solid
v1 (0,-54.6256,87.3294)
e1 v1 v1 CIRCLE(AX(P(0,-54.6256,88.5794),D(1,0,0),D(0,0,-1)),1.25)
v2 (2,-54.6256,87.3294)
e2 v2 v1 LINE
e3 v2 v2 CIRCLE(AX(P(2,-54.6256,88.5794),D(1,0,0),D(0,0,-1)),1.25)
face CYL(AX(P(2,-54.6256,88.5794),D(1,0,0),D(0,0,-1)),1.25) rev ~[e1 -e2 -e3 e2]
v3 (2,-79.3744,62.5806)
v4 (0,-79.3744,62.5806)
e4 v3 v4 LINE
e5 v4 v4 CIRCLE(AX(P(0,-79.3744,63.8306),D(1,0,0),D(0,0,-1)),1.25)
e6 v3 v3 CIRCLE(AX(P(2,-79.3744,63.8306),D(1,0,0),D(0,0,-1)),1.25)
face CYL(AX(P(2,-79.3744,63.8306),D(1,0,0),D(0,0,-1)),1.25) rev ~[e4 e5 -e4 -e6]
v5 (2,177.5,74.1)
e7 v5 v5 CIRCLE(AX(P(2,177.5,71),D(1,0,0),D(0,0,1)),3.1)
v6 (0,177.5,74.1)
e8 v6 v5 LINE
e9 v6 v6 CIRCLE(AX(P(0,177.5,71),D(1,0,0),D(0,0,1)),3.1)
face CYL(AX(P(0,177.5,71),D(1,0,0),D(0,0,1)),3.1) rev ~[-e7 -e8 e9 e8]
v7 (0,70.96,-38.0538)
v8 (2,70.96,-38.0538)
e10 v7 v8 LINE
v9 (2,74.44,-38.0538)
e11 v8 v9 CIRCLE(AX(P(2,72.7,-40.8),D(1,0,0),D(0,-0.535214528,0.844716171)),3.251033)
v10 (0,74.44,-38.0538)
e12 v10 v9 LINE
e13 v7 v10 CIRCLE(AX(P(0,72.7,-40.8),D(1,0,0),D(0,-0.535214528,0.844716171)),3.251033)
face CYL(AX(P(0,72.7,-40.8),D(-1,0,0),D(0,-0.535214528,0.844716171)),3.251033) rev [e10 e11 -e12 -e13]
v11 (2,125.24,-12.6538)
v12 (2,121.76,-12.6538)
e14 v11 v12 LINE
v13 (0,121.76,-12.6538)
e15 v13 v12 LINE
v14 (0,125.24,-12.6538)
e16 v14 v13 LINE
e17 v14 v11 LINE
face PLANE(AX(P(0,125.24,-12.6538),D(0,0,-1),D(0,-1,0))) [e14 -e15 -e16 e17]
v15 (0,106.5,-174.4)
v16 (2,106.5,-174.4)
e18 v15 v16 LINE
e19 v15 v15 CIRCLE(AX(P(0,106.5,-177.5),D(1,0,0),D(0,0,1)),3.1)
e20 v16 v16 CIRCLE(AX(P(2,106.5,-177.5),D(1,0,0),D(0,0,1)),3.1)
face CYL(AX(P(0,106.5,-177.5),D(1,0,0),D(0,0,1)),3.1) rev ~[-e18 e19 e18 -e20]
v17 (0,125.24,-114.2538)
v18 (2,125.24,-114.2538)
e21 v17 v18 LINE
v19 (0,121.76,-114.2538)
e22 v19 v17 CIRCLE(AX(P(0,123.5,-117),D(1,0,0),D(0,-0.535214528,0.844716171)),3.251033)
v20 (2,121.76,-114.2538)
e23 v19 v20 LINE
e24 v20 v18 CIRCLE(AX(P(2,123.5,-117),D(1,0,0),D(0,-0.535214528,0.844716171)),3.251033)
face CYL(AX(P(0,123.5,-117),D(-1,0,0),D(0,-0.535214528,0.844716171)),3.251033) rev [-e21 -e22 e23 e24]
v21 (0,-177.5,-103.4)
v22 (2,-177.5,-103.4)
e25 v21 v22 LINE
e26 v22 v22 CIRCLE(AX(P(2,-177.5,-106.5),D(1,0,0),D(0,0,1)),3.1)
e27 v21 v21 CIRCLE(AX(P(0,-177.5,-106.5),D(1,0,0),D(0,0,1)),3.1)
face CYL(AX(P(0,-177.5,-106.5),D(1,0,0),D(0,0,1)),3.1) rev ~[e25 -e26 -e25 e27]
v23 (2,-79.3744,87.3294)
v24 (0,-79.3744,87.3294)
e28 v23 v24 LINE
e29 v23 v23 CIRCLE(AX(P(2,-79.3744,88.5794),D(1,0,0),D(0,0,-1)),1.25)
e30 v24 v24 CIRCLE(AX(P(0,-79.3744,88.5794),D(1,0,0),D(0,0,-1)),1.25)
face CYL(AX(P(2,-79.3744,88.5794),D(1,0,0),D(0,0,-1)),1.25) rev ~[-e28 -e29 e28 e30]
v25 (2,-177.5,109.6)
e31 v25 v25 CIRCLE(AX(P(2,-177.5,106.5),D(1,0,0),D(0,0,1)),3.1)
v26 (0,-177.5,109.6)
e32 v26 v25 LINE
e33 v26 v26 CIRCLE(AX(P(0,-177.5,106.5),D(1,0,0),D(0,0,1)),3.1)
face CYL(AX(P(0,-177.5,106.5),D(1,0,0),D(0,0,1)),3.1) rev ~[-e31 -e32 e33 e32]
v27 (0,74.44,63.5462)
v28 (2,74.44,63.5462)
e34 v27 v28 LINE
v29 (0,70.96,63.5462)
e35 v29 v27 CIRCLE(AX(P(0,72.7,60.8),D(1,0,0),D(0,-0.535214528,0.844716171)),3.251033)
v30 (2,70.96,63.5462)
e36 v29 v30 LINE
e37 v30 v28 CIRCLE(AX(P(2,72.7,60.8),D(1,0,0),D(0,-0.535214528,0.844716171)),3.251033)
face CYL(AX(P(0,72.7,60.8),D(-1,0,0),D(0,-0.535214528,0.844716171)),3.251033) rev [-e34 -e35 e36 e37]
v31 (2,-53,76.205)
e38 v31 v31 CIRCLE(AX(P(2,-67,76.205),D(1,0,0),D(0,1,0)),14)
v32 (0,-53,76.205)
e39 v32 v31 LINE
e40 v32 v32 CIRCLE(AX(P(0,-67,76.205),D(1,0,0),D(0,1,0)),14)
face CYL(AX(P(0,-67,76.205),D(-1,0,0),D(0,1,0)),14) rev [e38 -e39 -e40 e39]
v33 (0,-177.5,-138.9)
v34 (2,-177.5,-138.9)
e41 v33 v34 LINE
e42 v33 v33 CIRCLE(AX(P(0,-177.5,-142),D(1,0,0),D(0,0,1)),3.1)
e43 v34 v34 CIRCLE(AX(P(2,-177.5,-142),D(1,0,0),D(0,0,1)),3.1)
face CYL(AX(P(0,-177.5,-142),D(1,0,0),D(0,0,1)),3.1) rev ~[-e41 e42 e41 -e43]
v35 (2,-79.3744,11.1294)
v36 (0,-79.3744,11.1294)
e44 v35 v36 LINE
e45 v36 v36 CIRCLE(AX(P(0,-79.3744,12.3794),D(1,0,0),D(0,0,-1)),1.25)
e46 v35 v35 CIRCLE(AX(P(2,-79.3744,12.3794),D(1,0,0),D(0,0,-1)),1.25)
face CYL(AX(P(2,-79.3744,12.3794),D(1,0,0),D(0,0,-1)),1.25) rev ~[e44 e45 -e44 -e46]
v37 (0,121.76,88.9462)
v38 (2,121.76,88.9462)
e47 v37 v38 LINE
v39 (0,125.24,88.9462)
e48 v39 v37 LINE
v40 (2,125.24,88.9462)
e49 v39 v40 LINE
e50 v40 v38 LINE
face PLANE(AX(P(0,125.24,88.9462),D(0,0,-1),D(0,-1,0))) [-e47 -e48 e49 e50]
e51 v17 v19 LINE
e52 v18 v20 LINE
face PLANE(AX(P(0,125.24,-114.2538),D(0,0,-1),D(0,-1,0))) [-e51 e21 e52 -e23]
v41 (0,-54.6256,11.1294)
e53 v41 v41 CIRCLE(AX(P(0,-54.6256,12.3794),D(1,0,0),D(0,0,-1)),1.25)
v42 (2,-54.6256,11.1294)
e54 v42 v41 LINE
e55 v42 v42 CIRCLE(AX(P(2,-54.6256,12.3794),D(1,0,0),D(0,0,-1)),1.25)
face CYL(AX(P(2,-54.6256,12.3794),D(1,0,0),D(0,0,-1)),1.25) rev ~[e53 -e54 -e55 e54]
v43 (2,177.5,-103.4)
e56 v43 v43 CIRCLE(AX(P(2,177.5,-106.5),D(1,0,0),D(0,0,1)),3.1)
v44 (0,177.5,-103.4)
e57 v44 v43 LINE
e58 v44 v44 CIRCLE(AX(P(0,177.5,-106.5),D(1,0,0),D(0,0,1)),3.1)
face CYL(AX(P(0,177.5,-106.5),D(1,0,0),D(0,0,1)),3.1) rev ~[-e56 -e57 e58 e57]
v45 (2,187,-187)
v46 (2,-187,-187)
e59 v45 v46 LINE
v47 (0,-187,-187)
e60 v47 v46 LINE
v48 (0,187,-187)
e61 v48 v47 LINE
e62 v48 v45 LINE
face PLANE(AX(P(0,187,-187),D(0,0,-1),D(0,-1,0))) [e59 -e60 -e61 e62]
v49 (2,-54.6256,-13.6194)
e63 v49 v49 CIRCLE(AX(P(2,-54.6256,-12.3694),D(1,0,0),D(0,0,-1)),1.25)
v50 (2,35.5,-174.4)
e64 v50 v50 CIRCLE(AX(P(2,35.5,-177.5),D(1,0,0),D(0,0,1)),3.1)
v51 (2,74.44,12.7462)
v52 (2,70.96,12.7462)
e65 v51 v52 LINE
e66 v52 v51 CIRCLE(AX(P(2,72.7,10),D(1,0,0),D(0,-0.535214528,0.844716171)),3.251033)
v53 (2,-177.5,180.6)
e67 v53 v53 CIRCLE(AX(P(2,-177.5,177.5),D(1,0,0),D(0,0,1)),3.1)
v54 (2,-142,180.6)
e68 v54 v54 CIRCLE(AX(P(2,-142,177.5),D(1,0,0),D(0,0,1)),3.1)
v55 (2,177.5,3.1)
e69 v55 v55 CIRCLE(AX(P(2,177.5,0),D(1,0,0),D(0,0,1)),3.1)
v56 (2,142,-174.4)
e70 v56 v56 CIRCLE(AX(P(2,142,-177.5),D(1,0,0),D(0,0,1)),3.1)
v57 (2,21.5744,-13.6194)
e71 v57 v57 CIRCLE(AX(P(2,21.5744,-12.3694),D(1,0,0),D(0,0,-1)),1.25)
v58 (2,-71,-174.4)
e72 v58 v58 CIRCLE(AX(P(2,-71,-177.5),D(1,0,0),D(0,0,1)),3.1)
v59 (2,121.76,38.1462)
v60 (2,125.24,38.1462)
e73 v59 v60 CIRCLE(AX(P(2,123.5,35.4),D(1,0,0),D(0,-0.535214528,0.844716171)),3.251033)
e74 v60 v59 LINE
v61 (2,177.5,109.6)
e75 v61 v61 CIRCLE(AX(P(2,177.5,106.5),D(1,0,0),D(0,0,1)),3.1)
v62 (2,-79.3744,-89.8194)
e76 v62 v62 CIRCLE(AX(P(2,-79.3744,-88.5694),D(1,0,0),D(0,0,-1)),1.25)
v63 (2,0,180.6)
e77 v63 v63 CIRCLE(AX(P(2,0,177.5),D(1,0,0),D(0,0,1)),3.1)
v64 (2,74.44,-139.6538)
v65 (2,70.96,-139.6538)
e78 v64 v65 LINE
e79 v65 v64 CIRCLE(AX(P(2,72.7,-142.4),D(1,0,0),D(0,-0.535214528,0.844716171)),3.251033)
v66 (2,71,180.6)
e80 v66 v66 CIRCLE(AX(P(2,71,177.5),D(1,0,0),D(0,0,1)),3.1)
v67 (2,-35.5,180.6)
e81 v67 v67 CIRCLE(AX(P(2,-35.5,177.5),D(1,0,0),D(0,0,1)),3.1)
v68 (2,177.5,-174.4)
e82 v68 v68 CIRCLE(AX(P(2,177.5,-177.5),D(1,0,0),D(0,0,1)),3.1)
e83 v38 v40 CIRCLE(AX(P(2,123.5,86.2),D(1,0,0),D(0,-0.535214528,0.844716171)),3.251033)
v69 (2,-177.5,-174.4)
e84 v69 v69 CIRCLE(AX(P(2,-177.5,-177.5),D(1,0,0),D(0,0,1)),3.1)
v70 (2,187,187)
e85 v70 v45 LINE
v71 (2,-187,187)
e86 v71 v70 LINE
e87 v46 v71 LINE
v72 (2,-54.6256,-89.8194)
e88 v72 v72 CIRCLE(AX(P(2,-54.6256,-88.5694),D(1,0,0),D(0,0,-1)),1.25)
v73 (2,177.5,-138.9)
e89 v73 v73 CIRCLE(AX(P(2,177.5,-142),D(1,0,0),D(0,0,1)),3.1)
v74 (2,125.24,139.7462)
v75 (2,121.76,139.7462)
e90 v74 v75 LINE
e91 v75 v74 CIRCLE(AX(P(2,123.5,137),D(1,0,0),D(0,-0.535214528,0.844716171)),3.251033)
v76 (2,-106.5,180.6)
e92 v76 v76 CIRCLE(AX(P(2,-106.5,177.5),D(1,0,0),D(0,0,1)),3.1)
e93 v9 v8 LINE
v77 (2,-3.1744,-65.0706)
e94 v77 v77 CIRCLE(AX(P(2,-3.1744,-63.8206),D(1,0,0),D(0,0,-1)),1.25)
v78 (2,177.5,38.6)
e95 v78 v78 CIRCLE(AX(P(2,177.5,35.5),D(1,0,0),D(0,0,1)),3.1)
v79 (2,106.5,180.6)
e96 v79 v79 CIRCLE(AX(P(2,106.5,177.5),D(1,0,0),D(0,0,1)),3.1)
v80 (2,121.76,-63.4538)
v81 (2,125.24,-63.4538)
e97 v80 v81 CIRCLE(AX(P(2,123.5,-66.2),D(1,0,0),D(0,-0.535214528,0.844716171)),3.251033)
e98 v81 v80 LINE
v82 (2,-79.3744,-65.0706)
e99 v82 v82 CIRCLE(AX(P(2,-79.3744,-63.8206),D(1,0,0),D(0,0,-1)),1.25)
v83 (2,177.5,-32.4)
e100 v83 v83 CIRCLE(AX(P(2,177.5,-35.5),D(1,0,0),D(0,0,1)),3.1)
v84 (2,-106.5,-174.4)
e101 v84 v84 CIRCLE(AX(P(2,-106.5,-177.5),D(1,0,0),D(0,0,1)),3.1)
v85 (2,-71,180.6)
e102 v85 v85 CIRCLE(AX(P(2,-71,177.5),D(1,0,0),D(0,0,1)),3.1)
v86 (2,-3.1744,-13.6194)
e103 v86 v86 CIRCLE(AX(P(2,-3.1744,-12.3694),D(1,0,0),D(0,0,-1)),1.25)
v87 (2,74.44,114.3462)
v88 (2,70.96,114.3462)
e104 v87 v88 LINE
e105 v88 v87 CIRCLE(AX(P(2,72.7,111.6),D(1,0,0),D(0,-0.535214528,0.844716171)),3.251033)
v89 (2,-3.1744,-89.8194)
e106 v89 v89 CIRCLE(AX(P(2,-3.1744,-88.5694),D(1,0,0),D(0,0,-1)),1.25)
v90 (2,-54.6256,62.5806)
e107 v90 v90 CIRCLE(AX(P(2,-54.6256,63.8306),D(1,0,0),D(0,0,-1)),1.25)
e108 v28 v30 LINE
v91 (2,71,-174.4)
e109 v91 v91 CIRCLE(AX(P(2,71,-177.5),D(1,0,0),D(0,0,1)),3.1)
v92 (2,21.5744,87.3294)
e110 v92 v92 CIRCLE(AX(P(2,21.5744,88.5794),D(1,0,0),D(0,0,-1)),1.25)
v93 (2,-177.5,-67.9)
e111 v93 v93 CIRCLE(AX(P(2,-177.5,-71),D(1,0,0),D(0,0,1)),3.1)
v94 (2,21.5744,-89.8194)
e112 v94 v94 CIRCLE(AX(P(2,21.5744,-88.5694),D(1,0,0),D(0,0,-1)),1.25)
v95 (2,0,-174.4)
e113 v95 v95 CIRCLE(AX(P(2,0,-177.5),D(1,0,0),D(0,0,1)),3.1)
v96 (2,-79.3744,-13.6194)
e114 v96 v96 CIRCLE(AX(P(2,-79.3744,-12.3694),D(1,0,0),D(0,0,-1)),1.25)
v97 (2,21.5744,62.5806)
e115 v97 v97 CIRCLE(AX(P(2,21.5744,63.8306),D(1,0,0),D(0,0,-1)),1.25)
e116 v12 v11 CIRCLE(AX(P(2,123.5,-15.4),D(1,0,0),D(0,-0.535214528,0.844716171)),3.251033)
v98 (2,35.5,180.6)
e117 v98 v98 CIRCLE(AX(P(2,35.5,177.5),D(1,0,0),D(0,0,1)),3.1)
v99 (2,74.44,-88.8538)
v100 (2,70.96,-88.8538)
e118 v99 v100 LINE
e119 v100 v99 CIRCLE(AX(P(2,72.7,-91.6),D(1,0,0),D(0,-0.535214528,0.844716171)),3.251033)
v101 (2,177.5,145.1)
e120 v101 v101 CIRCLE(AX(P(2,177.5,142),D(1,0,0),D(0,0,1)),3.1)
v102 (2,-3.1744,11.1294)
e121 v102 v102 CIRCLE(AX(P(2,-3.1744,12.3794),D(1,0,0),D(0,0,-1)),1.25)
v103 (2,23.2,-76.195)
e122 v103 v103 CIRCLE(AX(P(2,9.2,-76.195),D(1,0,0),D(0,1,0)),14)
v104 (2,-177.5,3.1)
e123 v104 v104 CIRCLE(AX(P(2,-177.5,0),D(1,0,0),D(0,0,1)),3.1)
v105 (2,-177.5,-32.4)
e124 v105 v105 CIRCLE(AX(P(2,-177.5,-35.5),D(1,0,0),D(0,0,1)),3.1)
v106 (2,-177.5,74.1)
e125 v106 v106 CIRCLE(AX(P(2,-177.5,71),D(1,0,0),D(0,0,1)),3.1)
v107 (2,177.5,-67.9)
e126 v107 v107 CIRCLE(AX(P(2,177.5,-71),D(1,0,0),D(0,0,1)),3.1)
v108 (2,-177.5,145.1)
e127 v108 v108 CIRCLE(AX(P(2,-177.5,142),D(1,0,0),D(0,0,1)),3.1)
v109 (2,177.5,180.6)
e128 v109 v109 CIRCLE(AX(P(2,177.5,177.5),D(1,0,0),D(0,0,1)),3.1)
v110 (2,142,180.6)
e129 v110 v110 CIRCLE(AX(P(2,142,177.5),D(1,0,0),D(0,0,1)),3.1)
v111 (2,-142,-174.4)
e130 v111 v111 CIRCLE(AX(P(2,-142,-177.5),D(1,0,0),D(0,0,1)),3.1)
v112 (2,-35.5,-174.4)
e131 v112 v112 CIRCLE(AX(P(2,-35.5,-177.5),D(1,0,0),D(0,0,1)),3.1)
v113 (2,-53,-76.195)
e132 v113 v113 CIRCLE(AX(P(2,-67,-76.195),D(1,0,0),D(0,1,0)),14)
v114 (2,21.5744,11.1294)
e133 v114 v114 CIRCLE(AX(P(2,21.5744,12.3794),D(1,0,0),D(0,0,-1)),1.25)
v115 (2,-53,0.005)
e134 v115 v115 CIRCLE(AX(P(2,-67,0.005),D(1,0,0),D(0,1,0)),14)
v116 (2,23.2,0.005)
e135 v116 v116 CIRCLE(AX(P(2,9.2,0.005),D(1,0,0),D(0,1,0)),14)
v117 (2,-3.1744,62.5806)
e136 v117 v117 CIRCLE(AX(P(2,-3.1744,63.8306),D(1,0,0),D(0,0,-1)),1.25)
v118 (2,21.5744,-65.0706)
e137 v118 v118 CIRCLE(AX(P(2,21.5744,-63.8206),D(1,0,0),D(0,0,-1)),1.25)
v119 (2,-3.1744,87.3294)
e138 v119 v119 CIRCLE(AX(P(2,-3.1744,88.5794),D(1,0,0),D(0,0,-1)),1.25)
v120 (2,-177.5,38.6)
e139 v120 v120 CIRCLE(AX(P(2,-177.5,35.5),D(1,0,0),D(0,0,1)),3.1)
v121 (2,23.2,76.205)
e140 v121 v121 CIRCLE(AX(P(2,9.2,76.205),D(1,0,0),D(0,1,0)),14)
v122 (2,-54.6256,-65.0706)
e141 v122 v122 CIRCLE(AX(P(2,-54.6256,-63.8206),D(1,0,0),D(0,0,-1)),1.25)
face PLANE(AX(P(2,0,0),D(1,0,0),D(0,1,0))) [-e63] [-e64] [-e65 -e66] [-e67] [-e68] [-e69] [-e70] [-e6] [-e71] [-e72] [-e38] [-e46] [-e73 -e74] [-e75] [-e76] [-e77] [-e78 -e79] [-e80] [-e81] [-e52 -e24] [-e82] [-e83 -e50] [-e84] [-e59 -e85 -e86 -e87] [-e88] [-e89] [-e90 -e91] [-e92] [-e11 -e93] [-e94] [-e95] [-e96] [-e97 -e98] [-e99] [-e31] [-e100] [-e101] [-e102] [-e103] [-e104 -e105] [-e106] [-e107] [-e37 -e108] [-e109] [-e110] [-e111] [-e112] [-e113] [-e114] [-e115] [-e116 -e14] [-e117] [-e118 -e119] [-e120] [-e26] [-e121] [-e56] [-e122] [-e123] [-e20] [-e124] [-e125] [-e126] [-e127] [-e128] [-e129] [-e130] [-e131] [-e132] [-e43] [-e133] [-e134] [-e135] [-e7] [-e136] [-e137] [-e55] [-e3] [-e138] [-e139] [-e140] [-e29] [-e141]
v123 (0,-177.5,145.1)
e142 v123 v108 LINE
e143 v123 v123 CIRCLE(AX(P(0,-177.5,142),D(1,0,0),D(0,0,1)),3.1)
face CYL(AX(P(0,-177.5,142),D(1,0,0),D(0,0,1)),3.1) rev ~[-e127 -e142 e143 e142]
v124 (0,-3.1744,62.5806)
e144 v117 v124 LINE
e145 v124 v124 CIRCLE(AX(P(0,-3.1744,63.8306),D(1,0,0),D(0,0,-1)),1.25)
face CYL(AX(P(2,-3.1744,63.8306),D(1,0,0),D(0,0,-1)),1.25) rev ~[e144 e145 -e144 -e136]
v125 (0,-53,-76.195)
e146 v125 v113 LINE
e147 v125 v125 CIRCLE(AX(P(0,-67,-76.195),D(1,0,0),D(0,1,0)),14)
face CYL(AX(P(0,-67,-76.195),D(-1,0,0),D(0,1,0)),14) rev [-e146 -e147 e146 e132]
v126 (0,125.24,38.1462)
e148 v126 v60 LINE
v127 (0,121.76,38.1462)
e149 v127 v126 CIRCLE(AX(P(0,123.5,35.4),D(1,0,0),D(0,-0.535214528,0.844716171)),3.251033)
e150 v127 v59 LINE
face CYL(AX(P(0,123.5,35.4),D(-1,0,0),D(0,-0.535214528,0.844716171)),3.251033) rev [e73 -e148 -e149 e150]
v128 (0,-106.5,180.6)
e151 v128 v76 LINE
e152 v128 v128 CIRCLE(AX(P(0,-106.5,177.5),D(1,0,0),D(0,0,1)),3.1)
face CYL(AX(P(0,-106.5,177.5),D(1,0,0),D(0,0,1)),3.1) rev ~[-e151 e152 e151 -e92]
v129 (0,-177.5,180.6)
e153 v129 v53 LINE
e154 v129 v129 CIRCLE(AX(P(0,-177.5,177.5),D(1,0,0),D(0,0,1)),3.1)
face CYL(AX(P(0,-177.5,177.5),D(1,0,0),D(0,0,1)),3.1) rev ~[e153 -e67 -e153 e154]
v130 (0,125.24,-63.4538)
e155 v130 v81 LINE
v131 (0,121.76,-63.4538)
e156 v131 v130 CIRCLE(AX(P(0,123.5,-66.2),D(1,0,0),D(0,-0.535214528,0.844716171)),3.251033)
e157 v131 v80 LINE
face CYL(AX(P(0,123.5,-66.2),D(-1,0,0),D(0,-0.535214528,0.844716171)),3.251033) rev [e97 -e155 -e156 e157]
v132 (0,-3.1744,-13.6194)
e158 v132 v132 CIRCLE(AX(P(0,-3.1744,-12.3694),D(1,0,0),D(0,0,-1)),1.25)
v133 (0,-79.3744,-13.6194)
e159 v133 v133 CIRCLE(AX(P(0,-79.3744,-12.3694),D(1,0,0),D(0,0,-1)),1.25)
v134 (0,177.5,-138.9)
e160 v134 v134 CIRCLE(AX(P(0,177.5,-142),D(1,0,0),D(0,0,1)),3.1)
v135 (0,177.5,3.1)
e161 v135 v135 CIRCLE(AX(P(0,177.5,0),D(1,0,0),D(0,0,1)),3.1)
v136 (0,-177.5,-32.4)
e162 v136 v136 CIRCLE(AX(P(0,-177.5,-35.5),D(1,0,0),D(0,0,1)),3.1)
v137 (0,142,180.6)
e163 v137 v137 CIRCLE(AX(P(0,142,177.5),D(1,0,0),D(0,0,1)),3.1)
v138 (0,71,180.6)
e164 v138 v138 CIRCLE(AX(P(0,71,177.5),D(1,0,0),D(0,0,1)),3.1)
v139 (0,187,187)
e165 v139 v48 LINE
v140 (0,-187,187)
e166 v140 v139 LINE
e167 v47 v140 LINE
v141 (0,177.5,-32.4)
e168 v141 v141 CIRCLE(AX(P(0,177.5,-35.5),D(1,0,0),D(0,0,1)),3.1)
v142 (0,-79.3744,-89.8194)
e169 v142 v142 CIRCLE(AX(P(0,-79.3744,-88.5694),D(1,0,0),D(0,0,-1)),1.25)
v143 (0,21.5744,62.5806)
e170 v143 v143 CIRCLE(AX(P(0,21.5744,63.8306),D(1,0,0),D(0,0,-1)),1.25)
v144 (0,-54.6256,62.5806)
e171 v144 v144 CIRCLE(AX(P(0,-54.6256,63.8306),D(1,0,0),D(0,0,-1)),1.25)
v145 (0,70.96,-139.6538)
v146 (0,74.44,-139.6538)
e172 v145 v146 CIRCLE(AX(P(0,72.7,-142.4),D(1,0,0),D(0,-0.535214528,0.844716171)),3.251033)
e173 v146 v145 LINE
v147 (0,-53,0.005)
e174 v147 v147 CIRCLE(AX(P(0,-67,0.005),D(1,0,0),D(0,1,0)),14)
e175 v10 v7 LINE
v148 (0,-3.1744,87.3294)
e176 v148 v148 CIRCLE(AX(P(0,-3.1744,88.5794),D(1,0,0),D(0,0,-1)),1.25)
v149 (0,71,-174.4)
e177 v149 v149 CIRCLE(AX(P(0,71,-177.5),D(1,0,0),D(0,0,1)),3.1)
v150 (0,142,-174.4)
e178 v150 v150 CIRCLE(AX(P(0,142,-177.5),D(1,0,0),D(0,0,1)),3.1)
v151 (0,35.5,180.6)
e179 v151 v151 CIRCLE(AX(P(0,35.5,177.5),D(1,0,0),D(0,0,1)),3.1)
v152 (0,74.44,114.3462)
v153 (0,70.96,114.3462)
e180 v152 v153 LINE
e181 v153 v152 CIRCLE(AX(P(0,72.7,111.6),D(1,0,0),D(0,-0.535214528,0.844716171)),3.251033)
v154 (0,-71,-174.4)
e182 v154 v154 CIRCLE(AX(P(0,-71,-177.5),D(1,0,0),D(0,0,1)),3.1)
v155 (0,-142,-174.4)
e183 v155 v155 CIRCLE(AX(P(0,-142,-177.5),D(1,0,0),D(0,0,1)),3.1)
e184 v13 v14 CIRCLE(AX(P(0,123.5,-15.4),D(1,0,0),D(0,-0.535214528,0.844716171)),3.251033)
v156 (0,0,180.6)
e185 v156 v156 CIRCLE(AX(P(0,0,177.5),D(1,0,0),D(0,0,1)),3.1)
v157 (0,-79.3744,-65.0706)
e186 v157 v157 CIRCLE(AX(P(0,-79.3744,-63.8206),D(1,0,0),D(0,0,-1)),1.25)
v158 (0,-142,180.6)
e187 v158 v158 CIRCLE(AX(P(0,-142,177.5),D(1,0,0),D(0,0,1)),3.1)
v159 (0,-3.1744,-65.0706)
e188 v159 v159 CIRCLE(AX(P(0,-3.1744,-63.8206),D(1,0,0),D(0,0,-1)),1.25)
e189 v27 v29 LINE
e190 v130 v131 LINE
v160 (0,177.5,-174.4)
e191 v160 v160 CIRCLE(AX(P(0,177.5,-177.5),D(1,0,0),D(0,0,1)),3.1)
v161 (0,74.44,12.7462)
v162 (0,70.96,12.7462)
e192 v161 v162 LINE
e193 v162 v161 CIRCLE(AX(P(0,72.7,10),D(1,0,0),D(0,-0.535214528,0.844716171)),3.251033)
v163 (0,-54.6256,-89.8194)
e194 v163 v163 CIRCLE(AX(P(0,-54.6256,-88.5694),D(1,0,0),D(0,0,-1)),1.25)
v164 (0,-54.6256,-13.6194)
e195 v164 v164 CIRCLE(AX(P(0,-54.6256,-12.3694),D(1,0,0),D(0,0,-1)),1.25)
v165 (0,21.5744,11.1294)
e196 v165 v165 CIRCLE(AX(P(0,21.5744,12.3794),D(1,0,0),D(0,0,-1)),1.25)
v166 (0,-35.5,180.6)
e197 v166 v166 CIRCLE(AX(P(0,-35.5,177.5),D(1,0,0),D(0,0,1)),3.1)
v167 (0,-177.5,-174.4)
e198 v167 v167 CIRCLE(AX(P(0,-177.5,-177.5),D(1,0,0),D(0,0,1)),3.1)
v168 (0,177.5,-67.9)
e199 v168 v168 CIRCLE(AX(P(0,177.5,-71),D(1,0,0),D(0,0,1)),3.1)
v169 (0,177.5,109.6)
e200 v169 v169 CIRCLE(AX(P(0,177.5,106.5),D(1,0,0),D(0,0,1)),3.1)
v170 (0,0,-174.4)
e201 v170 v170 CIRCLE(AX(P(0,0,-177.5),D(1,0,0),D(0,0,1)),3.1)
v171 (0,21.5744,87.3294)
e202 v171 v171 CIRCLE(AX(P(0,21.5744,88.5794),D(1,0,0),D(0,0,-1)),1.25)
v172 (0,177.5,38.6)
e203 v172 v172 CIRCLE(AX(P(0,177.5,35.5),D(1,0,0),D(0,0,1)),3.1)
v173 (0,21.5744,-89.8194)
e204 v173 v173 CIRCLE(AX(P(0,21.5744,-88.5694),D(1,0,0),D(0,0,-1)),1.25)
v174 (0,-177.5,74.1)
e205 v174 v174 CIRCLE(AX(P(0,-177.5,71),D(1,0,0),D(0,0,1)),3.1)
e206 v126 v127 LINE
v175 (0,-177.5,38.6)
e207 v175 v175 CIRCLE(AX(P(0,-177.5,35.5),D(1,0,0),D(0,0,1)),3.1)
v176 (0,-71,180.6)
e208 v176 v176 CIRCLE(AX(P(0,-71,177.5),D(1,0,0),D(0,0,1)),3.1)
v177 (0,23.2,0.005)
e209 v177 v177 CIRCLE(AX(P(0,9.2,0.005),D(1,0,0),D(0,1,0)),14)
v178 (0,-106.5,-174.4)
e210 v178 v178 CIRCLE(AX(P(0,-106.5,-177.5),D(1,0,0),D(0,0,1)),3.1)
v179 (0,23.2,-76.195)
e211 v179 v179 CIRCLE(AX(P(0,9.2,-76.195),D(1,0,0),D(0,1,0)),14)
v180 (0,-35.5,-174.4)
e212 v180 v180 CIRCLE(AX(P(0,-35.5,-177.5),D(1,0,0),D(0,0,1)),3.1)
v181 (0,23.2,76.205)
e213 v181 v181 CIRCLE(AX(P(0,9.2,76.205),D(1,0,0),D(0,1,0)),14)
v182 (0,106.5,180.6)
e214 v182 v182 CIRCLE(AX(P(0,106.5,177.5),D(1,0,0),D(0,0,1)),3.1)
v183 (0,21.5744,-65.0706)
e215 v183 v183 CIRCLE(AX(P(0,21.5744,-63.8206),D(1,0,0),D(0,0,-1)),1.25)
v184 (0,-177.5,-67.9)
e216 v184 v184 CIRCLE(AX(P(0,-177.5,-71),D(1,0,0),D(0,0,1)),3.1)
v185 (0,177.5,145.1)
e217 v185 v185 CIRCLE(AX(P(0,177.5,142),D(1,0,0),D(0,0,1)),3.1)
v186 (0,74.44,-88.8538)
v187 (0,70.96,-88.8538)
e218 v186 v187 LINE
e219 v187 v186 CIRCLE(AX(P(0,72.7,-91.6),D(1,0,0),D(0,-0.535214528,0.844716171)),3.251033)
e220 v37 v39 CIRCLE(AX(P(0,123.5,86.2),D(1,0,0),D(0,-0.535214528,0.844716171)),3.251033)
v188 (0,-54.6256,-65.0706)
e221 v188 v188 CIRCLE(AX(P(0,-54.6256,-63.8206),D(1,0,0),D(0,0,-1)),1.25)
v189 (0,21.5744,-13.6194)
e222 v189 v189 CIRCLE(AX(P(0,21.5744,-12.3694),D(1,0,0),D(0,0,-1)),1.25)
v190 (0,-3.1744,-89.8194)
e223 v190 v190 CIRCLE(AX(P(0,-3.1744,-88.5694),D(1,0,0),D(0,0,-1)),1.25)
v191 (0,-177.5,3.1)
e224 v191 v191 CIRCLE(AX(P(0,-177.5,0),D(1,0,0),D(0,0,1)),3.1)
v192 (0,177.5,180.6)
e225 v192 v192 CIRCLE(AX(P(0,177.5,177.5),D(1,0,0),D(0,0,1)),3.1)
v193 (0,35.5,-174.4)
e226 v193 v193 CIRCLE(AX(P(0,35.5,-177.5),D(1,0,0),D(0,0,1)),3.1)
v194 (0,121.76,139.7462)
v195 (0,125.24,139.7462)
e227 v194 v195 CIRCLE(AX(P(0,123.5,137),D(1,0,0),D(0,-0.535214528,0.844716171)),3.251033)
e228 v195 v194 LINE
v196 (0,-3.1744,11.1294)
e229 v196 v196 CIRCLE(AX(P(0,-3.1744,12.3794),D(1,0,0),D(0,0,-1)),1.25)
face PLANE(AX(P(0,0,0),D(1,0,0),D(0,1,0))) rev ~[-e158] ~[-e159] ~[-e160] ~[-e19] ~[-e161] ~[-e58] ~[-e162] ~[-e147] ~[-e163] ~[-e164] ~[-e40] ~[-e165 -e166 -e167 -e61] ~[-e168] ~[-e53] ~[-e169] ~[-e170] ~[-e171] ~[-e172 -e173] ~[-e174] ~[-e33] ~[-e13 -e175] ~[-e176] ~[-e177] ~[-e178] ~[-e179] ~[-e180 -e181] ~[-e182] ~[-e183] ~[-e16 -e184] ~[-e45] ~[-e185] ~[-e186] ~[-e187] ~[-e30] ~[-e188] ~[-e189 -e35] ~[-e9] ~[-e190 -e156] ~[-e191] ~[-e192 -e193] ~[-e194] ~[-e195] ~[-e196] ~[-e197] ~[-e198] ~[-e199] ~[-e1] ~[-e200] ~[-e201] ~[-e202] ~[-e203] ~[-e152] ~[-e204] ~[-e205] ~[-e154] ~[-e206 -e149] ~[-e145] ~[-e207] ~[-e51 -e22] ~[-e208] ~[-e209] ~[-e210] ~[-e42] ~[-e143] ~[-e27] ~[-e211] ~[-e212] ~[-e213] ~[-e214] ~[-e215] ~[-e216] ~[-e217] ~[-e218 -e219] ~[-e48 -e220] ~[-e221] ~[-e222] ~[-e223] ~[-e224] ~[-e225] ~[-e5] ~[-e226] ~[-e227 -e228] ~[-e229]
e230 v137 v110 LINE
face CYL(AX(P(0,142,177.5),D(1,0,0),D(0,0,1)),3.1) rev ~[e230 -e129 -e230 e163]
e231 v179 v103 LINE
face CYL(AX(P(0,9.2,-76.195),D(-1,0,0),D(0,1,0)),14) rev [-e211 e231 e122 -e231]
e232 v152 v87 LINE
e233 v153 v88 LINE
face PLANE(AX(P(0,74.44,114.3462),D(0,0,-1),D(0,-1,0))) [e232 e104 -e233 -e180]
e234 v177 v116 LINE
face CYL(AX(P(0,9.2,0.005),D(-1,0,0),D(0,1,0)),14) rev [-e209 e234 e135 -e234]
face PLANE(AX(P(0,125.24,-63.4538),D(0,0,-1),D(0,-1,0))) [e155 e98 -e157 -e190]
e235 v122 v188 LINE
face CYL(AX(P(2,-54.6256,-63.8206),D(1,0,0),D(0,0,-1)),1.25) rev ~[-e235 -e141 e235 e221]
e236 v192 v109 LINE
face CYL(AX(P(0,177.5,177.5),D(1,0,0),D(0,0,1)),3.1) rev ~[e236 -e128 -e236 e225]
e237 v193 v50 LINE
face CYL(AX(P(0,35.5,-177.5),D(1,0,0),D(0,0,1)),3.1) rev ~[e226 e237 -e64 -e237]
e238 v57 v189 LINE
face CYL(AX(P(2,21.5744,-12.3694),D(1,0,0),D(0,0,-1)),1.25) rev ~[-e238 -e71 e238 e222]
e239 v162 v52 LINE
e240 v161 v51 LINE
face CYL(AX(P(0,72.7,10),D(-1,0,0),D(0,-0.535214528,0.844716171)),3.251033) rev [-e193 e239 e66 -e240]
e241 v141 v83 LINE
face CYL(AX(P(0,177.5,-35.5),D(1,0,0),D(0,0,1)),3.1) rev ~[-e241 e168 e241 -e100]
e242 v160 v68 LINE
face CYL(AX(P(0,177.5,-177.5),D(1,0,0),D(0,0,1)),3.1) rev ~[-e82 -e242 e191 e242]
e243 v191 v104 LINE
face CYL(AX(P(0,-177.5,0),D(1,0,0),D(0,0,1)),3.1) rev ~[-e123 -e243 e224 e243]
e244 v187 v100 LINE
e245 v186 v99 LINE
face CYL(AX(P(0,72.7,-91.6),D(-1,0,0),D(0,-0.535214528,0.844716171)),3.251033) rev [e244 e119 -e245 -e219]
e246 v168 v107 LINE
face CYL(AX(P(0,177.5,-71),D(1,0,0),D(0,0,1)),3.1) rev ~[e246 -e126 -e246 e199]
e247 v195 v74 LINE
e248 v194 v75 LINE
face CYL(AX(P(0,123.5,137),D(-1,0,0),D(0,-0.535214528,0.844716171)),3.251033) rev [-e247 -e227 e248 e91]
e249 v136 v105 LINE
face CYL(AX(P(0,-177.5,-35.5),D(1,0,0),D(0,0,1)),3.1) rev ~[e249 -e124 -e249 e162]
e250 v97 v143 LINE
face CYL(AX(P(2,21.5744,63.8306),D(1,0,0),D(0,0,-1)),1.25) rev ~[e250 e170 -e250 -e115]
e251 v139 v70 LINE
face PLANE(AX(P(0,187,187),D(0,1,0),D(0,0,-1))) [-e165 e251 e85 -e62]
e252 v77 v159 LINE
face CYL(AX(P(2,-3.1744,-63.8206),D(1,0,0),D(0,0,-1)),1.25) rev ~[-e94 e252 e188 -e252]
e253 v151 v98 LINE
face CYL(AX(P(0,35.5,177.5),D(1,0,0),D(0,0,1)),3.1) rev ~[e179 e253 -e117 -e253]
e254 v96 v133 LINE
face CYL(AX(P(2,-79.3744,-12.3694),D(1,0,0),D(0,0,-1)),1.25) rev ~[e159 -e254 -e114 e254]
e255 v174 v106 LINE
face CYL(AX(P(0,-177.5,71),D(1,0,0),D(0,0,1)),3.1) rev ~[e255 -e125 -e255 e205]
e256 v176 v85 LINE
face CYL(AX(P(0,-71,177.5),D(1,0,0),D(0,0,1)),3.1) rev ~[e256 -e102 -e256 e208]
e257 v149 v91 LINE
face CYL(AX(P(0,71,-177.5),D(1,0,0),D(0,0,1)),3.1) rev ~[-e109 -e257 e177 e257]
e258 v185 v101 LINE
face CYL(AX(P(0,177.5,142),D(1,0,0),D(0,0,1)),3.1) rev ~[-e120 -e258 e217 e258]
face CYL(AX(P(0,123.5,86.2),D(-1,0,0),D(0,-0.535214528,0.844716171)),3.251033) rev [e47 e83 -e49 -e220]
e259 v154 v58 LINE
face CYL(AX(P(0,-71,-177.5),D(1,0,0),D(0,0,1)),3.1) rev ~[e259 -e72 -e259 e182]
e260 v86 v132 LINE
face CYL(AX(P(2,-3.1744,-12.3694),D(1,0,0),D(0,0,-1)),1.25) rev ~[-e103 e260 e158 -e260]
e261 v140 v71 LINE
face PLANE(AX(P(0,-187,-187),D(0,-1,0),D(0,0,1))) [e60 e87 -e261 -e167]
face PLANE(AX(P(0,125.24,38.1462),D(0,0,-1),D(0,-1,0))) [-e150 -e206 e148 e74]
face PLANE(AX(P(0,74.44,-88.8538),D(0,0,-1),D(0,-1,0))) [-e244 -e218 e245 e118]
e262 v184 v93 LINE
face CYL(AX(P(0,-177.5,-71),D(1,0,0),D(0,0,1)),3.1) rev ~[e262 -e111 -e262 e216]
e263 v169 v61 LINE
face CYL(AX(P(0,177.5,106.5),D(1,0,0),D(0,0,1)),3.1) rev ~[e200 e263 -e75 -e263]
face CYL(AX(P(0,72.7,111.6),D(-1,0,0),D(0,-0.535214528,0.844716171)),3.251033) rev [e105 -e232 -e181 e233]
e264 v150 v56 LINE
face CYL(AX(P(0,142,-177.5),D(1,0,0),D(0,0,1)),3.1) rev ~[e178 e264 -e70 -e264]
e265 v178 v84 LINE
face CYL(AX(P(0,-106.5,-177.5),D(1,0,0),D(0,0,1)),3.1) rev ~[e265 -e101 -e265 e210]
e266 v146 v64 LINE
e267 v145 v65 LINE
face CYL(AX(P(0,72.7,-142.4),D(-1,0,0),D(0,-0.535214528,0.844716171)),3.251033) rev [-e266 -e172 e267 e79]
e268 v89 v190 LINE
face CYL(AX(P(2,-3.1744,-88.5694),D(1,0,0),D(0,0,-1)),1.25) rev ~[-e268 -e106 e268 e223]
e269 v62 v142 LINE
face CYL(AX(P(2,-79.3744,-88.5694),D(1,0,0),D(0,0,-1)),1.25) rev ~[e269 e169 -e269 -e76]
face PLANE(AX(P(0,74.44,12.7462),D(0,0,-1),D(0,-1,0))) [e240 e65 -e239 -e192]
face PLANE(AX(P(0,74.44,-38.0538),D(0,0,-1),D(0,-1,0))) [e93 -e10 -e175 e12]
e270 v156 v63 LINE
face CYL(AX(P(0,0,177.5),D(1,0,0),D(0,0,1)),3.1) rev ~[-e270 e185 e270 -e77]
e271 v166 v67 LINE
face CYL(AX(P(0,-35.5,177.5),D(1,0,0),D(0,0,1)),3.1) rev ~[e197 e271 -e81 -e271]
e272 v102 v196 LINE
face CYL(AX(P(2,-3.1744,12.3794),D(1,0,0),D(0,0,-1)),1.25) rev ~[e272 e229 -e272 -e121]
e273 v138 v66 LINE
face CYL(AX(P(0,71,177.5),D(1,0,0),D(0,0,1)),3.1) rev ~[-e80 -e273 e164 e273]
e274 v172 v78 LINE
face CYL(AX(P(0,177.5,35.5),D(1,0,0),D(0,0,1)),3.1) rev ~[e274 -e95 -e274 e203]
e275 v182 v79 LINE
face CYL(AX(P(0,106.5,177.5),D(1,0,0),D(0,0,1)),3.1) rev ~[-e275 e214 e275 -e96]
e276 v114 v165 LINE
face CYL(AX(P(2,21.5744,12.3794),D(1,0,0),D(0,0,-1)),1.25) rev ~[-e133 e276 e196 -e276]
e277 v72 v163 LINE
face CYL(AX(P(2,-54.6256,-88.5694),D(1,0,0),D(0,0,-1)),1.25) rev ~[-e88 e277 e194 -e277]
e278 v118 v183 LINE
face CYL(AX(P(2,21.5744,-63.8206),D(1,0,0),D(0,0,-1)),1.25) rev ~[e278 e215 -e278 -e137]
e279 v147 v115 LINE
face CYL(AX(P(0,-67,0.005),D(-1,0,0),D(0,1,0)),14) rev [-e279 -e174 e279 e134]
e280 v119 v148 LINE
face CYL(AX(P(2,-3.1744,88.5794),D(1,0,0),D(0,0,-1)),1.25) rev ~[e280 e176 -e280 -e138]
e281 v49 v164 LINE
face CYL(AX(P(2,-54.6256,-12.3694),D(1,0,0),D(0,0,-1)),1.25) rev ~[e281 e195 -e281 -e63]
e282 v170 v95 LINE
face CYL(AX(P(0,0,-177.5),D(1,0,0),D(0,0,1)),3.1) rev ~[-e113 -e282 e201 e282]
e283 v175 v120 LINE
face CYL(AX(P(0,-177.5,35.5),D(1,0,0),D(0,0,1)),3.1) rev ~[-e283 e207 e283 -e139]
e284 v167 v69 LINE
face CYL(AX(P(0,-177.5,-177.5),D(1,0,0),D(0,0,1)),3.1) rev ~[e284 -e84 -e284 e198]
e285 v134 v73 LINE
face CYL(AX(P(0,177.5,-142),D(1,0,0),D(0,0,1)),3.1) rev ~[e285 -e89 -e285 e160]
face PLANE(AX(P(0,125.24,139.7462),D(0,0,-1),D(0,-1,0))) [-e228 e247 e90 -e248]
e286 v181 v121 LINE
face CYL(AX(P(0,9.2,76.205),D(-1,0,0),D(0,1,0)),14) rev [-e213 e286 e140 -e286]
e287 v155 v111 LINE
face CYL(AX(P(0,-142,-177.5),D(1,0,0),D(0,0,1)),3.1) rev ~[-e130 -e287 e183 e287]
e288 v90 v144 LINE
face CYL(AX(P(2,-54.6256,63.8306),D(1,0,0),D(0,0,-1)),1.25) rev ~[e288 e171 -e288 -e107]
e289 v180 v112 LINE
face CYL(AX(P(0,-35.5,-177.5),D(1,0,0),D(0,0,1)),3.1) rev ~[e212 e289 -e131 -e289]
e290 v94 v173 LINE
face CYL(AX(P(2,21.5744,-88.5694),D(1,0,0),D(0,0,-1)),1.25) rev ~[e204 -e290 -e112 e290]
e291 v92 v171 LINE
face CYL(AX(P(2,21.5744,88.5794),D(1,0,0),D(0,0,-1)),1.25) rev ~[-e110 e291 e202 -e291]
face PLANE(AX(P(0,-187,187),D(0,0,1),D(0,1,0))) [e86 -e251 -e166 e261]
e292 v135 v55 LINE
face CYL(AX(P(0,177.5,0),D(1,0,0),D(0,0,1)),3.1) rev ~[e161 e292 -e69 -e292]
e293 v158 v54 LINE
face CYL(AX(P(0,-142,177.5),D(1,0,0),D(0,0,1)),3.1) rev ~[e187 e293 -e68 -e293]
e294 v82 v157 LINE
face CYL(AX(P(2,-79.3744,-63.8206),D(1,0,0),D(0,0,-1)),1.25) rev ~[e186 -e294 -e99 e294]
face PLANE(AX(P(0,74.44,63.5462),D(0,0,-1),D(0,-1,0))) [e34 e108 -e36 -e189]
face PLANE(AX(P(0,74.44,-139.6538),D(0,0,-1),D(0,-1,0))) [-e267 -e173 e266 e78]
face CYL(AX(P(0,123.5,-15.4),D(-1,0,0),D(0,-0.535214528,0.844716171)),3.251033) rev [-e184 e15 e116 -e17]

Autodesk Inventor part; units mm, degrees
ref_plane "YZ Plane" through (0, 0, 0) normal (1, 0, 0) x (0, 1, 0)
ref_plane "XZ Plane" through (0, 0, 0) normal (0, 1, 0) x (-1, 0, 0)
ref_plane "XY Plane" through (0, 0, 0) normal (0, 0, 1) x (1, 0, 0)
sketch "Sketch4" plane through (0, 0, 0) normal (1, 0, 0) x (0, 1, 0)
  line L0 (-187, 187) -> (187, 187)
  line L1 (187, 187) -> (187, -187)
  line L2 (187, -187) -> (-187, -187)
  line L3 (-187, -187) -> (-187, 187)
  line L4 (-187, 187) -> (187, -187) construction
  line L5 (187, 187) -> (-187, -187) construction
  arc A0 (121.76, 139.7462) -> (125.24, 139.7462) centre (123.5, 137) ccw
  line L6 (125.24, 139.7462) -> (121.76, 139.7462)
  line L7 (125.24, 88.9462) -> (121.76, 88.9462)
  arc A1 (121.76, 88.9462) -> (125.24, 88.9462) centre (123.5, 86.2) ccw
  line L8 (125.24, 38.1462) -> (121.76, 38.1462)
  arc A2 (121.76, 38.1462) -> (125.24, 38.1462) centre (123.5, 35.4) ccw
  line L9 (125.24, -12.6538) -> (121.76, -12.6538)
  arc A3 (121.76, -12.6538) -> (125.24, -12.6538) centre (123.5, -15.4) ccw
  line L10 (125.24, -63.4538) -> (121.76, -63.4538)
  arc A4 (121.76, -63.4538) -> (125.24, -63.4538) centre (123.5, -66.2) ccw
  line L11 (125.24, -114.2538) -> (121.76, -114.2538)
  arc A5 (121.76, -114.2538) -> (125.24, -114.2538) centre (123.5, -117) ccw
  arc A6 (70.96, 114.3462) -> (74.44, 114.3462) centre (72.7, 111.6) ccw
  line L12 (74.44, 114.3462) -> (70.96, 114.3462)
  line L13 (74.44, 63.5462) -> (70.96, 63.5462)
  arc A7 (70.96, 63.5462) -> (74.44, 63.5462) centre (72.7, 60.8) ccw
  line L14 (74.44, 12.7462) -> (70.96, 12.7462)
  arc A8 (70.96, 12.7462) -> (74.44, 12.7462) centre (72.7, 10) ccw
  line L15 (74.44, -38.0538) -> (70.96, -38.0538)
  arc A9 (70.96, -38.0538) -> (74.44, -38.0538) centre (72.7, -40.8) ccw
  line L16 (74.44, -88.8538) -> (70.96, -88.8538)
  arc A10 (70.96, -88.8538) -> (74.44, -88.8538) centre (72.7, -91.6) ccw
  line L17 (74.44, -139.6538) -> (70.96, -139.6538)
  arc A11 (70.96, -139.6538) -> (74.44, -139.6538) centre (72.7, -142.4) ccw
  circle A12 centre (9.2, 76.205) radius 14
  circle A13 centre (9.2, 0.005) radius 14
  circle A14 centre (9.2, -76.195) radius 14
  circle A15 centre (-67, 0.005) radius 14
  circle A16 centre (-67, -76.195) radius 14
  circle A17 centre (-67, 76.205) radius 14
  point P0 (0, 0)
  point P1 (177.5, 177.5)
  point P2 (177.5, 142)
  point P3 (177.5, 106.5)
  point P4 (177.5, 71)
  point P5 (177.5, 35.5)
  point P6 (177.5, 0)
  point P7 (177.5, -35.5)
  point P8 (177.5, -71)
  point P9 (177.5, -106.5)
  point P10 (177.5, -142)
  point P11 (177.5, -177.5)
  point P12 (142, 177.5)
  point P13 (106.5, 177.5)
  point P14 (71, 177.5)
  point P15 (35.5, 177.5)
  point P16 (0, 177.5)
  point P17 (-35.5, 177.5)
  point P18 (-71, 177.5)
  point P19 (-106.5, 177.5)
  point P20 (-142, 177.5)
  point P21 (-177.5, 177.5)
  point P22 (142, -177.5)
  point P23 (106.5, -177.5)
  point P24 (71, -177.5)
  point P25 (35.5, -177.5)
  point P26 (0, -177.5)
  point P27 (-35.5, -177.5)
  point P28 (-71, -177.5)
  point P29 (-106.5, -177.5)
  point P30 (-142, -177.5)
  point P31 (-177.5, -177.5)
  point P32 (-177.5, 142)
  point P33 (-177.5, 106.5)
  point P34 (-177.5, 71)
  point P35 (-177.5, 35.5)
  point P36 (-177.5, 0)
  point P37 (-177.5, -35.5)
  point P38 (-177.5, -71)
  point P39 (-177.5, -106.5)
  point P40 (-177.5, -142)
  dimension "d34" = 374
  dimension "d35" = 374
  dimension "d36" = 9.5
  dimension "d39" = 35.5
  dimension "d46" = 35.5
  dimension "d53" = 35.5
  dimension "d60" = 35.5
  dimension "d65" = 6.502
  dimension "d66" = 50
  dimension "d67" = 63.5
  dimension "d68" = 3.48
  dimension "d71" = 50.8
  dimension "d96" = 6.502
  dimension "d97" = 3.48
  dimension "d98" = 25.4
  dimension "d99" = 50.8
  dimension "d102" = 50.8
  dimension "d107" = 28
  dimension "d110" = 76.2
  dimension "d115" = 110.795
  dimension "d116" = 177.8
  dimension "d119" = 76.2
extrude "Extrusion3" add sketch "Sketch4" along normal blind 2
hole "Hole1" at (0, 177.5, 177.5) at (0, 177.5, 142) at (0, 177.5, 106.5) at (0, 177.5, 71) at (0, 177.5, 35.5) at (0, 177.5, 0) at (0, 177.5, -35.5) at (0, 177.5, -71) at (0, 177.5, -106.5) at (0, 177.5, -142) at (0, 177.5, -177.5) at (0, 142, 177.5) at (0, 106.5, 177.5) at (0, 71, 177.5) at (0, 35.5, 177.5) at (0, 0, 177.5) at (0, -35.5, 177.5) at (0, -71, 177.5) at (0, -106.5, 177.5) at (0, -142, 177.5) at (0, -177.5, 177.5) at (0, 142, -177.5) at (0, 106.5, -177.5) at (0, 71, -177.5) at (0, 35.5, -177.5) at (0, 0, -177.5) at (0, -35.5, -177.5) at (0, -71, -177.5) at (0, -106.5, -177.5) at (0, -142, -177.5) at (0, -177.5, -177.5) at (0, -177.5, 142) at (0, -177.5, 106.5) at (0, -177.5, 71) at (0, -177.5, 35.5) at (0, -177.5, 0) at (0, -177.5, -35.5) at (0, -177.5, -71) at (0, -177.5, -106.5) at (0, -177.5, -142) direction (1, 0, 0) diameter 6.2 end through all
sketch "Sketch5" plane through (2, 0, 0) normal (1, 0, 0) x (0, 0, -1)
  circle A0 centre (-76.205, 9.2) radius 14 projected
  circle A1 centre (-0.005, 9.2) radius 14 projected
  circle A2 centre (76.195, 9.2) radius 14 projected
  circle A3 centre (76.195, -67) radius 14 projected
  circle A4 centre (-0.005, -67) radius 14 projected
  circle A5 centre (-76.205, -67) radius 14 projected
  circle A6 centre (-76.205, 9.2) radius 17.5 construction
  circle A7 centre (-0.005, 9.2) radius 17.5 construction
  circle A8 centre (76.195, 9.2) radius 17.5 construction
  circle A9 centre (76.195, -67) radius 17.5 construction
  circle A10 centre (-0.005, -67) radius 17.5 construction
  circle A11 centre (-76.205, -67) radius 17.5 construction
  line L0 (-76.205, 9.2) -> (-63.8306, 21.5744) construction
  line L1 (-76.205, 9.2) -> (-58.705, 9.2) construction
  line L2 (-0.005, 9.2) -> (12.3694, 21.5744) construction
  line L3 (-0.005, 9.2) -> (17.495, 9.2) construction
  line L4 (76.195, 9.2) -> (88.5694, 21.5744) construction
  line L5 (76.195, 9.2) -> (93.695, 9.2) construction
  line L6 (76.195, -67) -> (88.5694, -54.6256) construction
  line L7 (76.195, -67) -> (93.695, -67) construction
  line L8 (-0.005, -67) -> (12.3694, -54.6256) construction
  line L9 (-0.005, -67) -> (17.495, -67) construction
  line L10 (-76.205, -67) -> (-63.8306, -54.6256) construction
  line L11 (-76.205, -67) -> (-58.705, -67) construction
  circle A12 centre (-63.8306, 21.5744) radius 1.25
  circle A13 centre (12.3694, 21.5744) radius 1.25
  circle A14 centre (88.5694, 21.5744) radius 1.25
  circle A15 centre (88.5694, -54.6256) radius 1.25
  circle A16 centre (12.3694, -54.6256) radius 1.25
  circle A17 centre (-63.8306, -54.6256) radius 1.25
  circle A18 centre (-88.5794, 21.5744) radius 1.25
  circle A19 centre (-88.5794, -3.1744) radius 1.25
  circle A20 centre (-63.8306, -3.1744) radius 1.25
  circle A21 centre (-12.3794, 21.5744) radius 1.25
  circle A22 centre (-12.3794, -3.1744) radius 1.25
  circle A23 centre (12.3694, -3.1744) radius 1.25
  circle A24 centre (63.8206, 21.5744) radius 1.25
  circle A25 centre (63.8206, -3.1744) radius 1.25
  circle A26 centre (88.5694, -3.1744) radius 1.25
  circle A27 centre (63.8206, -54.6256) radius 1.25
  circle A28 centre (63.8206, -79.3744) radius 1.25
  circle A29 centre (88.5694, -79.3744) radius 1.25
  circle A30 centre (-12.3794, -54.6256) radius 1.25
  circle A31 centre (-12.3794, -79.3744) radius 1.25
  circle A32 centre (12.3694, -79.3744) radius 1.25
  circle A33 centre (-88.5794, -54.6256) radius 1.25
  circle A34 centre (-88.5794, -79.3744) radius 1.25
  circle A35 centre (-63.8306, -79.3744) radius 1.25
  point P0 (0, 0)
  dimension "d133" = 35
  dimension "d134" = 35
  dimension "d135" = 35
  dimension "d136" = 35
  dimension "d137" = 35
  dimension "d138" = 35
  dimension "d139" = 45
  dimension "d140" = 45
  dimension "d141" = 45
  dimension "d142" = 45
  dimension "d143" = 45
  dimension "d144" = 45
  dimension "d145" = 2.5
  dimension "d146" = 2.5
  dimension "d147" = 2.5
  dimension "d148" = 2.5
  dimension "d149" = 2.5
  dimension "d150" = 2.5
  dimension "d153" = 360
  dimension "d157" = 360
  dimension "d161" = 360
  dimension "d165" = 360
  dimension "d169" = 360
  dimension "d173" = 360
extrude "Extrusion4" cut sketch "Sketch5" against normal up to surface (2 mm away) contours A12 | A13 | A14 | A15 | A16 | A17 | A18 | A19 | A20 | A21 | A22 | A23 | A24 | A25 | A26 | A27 | A28 | A29 | A30 | A31 | A32 | A33 | A34 | A35
properties part number "RD-A001-P001-REV0-noCutouts"
